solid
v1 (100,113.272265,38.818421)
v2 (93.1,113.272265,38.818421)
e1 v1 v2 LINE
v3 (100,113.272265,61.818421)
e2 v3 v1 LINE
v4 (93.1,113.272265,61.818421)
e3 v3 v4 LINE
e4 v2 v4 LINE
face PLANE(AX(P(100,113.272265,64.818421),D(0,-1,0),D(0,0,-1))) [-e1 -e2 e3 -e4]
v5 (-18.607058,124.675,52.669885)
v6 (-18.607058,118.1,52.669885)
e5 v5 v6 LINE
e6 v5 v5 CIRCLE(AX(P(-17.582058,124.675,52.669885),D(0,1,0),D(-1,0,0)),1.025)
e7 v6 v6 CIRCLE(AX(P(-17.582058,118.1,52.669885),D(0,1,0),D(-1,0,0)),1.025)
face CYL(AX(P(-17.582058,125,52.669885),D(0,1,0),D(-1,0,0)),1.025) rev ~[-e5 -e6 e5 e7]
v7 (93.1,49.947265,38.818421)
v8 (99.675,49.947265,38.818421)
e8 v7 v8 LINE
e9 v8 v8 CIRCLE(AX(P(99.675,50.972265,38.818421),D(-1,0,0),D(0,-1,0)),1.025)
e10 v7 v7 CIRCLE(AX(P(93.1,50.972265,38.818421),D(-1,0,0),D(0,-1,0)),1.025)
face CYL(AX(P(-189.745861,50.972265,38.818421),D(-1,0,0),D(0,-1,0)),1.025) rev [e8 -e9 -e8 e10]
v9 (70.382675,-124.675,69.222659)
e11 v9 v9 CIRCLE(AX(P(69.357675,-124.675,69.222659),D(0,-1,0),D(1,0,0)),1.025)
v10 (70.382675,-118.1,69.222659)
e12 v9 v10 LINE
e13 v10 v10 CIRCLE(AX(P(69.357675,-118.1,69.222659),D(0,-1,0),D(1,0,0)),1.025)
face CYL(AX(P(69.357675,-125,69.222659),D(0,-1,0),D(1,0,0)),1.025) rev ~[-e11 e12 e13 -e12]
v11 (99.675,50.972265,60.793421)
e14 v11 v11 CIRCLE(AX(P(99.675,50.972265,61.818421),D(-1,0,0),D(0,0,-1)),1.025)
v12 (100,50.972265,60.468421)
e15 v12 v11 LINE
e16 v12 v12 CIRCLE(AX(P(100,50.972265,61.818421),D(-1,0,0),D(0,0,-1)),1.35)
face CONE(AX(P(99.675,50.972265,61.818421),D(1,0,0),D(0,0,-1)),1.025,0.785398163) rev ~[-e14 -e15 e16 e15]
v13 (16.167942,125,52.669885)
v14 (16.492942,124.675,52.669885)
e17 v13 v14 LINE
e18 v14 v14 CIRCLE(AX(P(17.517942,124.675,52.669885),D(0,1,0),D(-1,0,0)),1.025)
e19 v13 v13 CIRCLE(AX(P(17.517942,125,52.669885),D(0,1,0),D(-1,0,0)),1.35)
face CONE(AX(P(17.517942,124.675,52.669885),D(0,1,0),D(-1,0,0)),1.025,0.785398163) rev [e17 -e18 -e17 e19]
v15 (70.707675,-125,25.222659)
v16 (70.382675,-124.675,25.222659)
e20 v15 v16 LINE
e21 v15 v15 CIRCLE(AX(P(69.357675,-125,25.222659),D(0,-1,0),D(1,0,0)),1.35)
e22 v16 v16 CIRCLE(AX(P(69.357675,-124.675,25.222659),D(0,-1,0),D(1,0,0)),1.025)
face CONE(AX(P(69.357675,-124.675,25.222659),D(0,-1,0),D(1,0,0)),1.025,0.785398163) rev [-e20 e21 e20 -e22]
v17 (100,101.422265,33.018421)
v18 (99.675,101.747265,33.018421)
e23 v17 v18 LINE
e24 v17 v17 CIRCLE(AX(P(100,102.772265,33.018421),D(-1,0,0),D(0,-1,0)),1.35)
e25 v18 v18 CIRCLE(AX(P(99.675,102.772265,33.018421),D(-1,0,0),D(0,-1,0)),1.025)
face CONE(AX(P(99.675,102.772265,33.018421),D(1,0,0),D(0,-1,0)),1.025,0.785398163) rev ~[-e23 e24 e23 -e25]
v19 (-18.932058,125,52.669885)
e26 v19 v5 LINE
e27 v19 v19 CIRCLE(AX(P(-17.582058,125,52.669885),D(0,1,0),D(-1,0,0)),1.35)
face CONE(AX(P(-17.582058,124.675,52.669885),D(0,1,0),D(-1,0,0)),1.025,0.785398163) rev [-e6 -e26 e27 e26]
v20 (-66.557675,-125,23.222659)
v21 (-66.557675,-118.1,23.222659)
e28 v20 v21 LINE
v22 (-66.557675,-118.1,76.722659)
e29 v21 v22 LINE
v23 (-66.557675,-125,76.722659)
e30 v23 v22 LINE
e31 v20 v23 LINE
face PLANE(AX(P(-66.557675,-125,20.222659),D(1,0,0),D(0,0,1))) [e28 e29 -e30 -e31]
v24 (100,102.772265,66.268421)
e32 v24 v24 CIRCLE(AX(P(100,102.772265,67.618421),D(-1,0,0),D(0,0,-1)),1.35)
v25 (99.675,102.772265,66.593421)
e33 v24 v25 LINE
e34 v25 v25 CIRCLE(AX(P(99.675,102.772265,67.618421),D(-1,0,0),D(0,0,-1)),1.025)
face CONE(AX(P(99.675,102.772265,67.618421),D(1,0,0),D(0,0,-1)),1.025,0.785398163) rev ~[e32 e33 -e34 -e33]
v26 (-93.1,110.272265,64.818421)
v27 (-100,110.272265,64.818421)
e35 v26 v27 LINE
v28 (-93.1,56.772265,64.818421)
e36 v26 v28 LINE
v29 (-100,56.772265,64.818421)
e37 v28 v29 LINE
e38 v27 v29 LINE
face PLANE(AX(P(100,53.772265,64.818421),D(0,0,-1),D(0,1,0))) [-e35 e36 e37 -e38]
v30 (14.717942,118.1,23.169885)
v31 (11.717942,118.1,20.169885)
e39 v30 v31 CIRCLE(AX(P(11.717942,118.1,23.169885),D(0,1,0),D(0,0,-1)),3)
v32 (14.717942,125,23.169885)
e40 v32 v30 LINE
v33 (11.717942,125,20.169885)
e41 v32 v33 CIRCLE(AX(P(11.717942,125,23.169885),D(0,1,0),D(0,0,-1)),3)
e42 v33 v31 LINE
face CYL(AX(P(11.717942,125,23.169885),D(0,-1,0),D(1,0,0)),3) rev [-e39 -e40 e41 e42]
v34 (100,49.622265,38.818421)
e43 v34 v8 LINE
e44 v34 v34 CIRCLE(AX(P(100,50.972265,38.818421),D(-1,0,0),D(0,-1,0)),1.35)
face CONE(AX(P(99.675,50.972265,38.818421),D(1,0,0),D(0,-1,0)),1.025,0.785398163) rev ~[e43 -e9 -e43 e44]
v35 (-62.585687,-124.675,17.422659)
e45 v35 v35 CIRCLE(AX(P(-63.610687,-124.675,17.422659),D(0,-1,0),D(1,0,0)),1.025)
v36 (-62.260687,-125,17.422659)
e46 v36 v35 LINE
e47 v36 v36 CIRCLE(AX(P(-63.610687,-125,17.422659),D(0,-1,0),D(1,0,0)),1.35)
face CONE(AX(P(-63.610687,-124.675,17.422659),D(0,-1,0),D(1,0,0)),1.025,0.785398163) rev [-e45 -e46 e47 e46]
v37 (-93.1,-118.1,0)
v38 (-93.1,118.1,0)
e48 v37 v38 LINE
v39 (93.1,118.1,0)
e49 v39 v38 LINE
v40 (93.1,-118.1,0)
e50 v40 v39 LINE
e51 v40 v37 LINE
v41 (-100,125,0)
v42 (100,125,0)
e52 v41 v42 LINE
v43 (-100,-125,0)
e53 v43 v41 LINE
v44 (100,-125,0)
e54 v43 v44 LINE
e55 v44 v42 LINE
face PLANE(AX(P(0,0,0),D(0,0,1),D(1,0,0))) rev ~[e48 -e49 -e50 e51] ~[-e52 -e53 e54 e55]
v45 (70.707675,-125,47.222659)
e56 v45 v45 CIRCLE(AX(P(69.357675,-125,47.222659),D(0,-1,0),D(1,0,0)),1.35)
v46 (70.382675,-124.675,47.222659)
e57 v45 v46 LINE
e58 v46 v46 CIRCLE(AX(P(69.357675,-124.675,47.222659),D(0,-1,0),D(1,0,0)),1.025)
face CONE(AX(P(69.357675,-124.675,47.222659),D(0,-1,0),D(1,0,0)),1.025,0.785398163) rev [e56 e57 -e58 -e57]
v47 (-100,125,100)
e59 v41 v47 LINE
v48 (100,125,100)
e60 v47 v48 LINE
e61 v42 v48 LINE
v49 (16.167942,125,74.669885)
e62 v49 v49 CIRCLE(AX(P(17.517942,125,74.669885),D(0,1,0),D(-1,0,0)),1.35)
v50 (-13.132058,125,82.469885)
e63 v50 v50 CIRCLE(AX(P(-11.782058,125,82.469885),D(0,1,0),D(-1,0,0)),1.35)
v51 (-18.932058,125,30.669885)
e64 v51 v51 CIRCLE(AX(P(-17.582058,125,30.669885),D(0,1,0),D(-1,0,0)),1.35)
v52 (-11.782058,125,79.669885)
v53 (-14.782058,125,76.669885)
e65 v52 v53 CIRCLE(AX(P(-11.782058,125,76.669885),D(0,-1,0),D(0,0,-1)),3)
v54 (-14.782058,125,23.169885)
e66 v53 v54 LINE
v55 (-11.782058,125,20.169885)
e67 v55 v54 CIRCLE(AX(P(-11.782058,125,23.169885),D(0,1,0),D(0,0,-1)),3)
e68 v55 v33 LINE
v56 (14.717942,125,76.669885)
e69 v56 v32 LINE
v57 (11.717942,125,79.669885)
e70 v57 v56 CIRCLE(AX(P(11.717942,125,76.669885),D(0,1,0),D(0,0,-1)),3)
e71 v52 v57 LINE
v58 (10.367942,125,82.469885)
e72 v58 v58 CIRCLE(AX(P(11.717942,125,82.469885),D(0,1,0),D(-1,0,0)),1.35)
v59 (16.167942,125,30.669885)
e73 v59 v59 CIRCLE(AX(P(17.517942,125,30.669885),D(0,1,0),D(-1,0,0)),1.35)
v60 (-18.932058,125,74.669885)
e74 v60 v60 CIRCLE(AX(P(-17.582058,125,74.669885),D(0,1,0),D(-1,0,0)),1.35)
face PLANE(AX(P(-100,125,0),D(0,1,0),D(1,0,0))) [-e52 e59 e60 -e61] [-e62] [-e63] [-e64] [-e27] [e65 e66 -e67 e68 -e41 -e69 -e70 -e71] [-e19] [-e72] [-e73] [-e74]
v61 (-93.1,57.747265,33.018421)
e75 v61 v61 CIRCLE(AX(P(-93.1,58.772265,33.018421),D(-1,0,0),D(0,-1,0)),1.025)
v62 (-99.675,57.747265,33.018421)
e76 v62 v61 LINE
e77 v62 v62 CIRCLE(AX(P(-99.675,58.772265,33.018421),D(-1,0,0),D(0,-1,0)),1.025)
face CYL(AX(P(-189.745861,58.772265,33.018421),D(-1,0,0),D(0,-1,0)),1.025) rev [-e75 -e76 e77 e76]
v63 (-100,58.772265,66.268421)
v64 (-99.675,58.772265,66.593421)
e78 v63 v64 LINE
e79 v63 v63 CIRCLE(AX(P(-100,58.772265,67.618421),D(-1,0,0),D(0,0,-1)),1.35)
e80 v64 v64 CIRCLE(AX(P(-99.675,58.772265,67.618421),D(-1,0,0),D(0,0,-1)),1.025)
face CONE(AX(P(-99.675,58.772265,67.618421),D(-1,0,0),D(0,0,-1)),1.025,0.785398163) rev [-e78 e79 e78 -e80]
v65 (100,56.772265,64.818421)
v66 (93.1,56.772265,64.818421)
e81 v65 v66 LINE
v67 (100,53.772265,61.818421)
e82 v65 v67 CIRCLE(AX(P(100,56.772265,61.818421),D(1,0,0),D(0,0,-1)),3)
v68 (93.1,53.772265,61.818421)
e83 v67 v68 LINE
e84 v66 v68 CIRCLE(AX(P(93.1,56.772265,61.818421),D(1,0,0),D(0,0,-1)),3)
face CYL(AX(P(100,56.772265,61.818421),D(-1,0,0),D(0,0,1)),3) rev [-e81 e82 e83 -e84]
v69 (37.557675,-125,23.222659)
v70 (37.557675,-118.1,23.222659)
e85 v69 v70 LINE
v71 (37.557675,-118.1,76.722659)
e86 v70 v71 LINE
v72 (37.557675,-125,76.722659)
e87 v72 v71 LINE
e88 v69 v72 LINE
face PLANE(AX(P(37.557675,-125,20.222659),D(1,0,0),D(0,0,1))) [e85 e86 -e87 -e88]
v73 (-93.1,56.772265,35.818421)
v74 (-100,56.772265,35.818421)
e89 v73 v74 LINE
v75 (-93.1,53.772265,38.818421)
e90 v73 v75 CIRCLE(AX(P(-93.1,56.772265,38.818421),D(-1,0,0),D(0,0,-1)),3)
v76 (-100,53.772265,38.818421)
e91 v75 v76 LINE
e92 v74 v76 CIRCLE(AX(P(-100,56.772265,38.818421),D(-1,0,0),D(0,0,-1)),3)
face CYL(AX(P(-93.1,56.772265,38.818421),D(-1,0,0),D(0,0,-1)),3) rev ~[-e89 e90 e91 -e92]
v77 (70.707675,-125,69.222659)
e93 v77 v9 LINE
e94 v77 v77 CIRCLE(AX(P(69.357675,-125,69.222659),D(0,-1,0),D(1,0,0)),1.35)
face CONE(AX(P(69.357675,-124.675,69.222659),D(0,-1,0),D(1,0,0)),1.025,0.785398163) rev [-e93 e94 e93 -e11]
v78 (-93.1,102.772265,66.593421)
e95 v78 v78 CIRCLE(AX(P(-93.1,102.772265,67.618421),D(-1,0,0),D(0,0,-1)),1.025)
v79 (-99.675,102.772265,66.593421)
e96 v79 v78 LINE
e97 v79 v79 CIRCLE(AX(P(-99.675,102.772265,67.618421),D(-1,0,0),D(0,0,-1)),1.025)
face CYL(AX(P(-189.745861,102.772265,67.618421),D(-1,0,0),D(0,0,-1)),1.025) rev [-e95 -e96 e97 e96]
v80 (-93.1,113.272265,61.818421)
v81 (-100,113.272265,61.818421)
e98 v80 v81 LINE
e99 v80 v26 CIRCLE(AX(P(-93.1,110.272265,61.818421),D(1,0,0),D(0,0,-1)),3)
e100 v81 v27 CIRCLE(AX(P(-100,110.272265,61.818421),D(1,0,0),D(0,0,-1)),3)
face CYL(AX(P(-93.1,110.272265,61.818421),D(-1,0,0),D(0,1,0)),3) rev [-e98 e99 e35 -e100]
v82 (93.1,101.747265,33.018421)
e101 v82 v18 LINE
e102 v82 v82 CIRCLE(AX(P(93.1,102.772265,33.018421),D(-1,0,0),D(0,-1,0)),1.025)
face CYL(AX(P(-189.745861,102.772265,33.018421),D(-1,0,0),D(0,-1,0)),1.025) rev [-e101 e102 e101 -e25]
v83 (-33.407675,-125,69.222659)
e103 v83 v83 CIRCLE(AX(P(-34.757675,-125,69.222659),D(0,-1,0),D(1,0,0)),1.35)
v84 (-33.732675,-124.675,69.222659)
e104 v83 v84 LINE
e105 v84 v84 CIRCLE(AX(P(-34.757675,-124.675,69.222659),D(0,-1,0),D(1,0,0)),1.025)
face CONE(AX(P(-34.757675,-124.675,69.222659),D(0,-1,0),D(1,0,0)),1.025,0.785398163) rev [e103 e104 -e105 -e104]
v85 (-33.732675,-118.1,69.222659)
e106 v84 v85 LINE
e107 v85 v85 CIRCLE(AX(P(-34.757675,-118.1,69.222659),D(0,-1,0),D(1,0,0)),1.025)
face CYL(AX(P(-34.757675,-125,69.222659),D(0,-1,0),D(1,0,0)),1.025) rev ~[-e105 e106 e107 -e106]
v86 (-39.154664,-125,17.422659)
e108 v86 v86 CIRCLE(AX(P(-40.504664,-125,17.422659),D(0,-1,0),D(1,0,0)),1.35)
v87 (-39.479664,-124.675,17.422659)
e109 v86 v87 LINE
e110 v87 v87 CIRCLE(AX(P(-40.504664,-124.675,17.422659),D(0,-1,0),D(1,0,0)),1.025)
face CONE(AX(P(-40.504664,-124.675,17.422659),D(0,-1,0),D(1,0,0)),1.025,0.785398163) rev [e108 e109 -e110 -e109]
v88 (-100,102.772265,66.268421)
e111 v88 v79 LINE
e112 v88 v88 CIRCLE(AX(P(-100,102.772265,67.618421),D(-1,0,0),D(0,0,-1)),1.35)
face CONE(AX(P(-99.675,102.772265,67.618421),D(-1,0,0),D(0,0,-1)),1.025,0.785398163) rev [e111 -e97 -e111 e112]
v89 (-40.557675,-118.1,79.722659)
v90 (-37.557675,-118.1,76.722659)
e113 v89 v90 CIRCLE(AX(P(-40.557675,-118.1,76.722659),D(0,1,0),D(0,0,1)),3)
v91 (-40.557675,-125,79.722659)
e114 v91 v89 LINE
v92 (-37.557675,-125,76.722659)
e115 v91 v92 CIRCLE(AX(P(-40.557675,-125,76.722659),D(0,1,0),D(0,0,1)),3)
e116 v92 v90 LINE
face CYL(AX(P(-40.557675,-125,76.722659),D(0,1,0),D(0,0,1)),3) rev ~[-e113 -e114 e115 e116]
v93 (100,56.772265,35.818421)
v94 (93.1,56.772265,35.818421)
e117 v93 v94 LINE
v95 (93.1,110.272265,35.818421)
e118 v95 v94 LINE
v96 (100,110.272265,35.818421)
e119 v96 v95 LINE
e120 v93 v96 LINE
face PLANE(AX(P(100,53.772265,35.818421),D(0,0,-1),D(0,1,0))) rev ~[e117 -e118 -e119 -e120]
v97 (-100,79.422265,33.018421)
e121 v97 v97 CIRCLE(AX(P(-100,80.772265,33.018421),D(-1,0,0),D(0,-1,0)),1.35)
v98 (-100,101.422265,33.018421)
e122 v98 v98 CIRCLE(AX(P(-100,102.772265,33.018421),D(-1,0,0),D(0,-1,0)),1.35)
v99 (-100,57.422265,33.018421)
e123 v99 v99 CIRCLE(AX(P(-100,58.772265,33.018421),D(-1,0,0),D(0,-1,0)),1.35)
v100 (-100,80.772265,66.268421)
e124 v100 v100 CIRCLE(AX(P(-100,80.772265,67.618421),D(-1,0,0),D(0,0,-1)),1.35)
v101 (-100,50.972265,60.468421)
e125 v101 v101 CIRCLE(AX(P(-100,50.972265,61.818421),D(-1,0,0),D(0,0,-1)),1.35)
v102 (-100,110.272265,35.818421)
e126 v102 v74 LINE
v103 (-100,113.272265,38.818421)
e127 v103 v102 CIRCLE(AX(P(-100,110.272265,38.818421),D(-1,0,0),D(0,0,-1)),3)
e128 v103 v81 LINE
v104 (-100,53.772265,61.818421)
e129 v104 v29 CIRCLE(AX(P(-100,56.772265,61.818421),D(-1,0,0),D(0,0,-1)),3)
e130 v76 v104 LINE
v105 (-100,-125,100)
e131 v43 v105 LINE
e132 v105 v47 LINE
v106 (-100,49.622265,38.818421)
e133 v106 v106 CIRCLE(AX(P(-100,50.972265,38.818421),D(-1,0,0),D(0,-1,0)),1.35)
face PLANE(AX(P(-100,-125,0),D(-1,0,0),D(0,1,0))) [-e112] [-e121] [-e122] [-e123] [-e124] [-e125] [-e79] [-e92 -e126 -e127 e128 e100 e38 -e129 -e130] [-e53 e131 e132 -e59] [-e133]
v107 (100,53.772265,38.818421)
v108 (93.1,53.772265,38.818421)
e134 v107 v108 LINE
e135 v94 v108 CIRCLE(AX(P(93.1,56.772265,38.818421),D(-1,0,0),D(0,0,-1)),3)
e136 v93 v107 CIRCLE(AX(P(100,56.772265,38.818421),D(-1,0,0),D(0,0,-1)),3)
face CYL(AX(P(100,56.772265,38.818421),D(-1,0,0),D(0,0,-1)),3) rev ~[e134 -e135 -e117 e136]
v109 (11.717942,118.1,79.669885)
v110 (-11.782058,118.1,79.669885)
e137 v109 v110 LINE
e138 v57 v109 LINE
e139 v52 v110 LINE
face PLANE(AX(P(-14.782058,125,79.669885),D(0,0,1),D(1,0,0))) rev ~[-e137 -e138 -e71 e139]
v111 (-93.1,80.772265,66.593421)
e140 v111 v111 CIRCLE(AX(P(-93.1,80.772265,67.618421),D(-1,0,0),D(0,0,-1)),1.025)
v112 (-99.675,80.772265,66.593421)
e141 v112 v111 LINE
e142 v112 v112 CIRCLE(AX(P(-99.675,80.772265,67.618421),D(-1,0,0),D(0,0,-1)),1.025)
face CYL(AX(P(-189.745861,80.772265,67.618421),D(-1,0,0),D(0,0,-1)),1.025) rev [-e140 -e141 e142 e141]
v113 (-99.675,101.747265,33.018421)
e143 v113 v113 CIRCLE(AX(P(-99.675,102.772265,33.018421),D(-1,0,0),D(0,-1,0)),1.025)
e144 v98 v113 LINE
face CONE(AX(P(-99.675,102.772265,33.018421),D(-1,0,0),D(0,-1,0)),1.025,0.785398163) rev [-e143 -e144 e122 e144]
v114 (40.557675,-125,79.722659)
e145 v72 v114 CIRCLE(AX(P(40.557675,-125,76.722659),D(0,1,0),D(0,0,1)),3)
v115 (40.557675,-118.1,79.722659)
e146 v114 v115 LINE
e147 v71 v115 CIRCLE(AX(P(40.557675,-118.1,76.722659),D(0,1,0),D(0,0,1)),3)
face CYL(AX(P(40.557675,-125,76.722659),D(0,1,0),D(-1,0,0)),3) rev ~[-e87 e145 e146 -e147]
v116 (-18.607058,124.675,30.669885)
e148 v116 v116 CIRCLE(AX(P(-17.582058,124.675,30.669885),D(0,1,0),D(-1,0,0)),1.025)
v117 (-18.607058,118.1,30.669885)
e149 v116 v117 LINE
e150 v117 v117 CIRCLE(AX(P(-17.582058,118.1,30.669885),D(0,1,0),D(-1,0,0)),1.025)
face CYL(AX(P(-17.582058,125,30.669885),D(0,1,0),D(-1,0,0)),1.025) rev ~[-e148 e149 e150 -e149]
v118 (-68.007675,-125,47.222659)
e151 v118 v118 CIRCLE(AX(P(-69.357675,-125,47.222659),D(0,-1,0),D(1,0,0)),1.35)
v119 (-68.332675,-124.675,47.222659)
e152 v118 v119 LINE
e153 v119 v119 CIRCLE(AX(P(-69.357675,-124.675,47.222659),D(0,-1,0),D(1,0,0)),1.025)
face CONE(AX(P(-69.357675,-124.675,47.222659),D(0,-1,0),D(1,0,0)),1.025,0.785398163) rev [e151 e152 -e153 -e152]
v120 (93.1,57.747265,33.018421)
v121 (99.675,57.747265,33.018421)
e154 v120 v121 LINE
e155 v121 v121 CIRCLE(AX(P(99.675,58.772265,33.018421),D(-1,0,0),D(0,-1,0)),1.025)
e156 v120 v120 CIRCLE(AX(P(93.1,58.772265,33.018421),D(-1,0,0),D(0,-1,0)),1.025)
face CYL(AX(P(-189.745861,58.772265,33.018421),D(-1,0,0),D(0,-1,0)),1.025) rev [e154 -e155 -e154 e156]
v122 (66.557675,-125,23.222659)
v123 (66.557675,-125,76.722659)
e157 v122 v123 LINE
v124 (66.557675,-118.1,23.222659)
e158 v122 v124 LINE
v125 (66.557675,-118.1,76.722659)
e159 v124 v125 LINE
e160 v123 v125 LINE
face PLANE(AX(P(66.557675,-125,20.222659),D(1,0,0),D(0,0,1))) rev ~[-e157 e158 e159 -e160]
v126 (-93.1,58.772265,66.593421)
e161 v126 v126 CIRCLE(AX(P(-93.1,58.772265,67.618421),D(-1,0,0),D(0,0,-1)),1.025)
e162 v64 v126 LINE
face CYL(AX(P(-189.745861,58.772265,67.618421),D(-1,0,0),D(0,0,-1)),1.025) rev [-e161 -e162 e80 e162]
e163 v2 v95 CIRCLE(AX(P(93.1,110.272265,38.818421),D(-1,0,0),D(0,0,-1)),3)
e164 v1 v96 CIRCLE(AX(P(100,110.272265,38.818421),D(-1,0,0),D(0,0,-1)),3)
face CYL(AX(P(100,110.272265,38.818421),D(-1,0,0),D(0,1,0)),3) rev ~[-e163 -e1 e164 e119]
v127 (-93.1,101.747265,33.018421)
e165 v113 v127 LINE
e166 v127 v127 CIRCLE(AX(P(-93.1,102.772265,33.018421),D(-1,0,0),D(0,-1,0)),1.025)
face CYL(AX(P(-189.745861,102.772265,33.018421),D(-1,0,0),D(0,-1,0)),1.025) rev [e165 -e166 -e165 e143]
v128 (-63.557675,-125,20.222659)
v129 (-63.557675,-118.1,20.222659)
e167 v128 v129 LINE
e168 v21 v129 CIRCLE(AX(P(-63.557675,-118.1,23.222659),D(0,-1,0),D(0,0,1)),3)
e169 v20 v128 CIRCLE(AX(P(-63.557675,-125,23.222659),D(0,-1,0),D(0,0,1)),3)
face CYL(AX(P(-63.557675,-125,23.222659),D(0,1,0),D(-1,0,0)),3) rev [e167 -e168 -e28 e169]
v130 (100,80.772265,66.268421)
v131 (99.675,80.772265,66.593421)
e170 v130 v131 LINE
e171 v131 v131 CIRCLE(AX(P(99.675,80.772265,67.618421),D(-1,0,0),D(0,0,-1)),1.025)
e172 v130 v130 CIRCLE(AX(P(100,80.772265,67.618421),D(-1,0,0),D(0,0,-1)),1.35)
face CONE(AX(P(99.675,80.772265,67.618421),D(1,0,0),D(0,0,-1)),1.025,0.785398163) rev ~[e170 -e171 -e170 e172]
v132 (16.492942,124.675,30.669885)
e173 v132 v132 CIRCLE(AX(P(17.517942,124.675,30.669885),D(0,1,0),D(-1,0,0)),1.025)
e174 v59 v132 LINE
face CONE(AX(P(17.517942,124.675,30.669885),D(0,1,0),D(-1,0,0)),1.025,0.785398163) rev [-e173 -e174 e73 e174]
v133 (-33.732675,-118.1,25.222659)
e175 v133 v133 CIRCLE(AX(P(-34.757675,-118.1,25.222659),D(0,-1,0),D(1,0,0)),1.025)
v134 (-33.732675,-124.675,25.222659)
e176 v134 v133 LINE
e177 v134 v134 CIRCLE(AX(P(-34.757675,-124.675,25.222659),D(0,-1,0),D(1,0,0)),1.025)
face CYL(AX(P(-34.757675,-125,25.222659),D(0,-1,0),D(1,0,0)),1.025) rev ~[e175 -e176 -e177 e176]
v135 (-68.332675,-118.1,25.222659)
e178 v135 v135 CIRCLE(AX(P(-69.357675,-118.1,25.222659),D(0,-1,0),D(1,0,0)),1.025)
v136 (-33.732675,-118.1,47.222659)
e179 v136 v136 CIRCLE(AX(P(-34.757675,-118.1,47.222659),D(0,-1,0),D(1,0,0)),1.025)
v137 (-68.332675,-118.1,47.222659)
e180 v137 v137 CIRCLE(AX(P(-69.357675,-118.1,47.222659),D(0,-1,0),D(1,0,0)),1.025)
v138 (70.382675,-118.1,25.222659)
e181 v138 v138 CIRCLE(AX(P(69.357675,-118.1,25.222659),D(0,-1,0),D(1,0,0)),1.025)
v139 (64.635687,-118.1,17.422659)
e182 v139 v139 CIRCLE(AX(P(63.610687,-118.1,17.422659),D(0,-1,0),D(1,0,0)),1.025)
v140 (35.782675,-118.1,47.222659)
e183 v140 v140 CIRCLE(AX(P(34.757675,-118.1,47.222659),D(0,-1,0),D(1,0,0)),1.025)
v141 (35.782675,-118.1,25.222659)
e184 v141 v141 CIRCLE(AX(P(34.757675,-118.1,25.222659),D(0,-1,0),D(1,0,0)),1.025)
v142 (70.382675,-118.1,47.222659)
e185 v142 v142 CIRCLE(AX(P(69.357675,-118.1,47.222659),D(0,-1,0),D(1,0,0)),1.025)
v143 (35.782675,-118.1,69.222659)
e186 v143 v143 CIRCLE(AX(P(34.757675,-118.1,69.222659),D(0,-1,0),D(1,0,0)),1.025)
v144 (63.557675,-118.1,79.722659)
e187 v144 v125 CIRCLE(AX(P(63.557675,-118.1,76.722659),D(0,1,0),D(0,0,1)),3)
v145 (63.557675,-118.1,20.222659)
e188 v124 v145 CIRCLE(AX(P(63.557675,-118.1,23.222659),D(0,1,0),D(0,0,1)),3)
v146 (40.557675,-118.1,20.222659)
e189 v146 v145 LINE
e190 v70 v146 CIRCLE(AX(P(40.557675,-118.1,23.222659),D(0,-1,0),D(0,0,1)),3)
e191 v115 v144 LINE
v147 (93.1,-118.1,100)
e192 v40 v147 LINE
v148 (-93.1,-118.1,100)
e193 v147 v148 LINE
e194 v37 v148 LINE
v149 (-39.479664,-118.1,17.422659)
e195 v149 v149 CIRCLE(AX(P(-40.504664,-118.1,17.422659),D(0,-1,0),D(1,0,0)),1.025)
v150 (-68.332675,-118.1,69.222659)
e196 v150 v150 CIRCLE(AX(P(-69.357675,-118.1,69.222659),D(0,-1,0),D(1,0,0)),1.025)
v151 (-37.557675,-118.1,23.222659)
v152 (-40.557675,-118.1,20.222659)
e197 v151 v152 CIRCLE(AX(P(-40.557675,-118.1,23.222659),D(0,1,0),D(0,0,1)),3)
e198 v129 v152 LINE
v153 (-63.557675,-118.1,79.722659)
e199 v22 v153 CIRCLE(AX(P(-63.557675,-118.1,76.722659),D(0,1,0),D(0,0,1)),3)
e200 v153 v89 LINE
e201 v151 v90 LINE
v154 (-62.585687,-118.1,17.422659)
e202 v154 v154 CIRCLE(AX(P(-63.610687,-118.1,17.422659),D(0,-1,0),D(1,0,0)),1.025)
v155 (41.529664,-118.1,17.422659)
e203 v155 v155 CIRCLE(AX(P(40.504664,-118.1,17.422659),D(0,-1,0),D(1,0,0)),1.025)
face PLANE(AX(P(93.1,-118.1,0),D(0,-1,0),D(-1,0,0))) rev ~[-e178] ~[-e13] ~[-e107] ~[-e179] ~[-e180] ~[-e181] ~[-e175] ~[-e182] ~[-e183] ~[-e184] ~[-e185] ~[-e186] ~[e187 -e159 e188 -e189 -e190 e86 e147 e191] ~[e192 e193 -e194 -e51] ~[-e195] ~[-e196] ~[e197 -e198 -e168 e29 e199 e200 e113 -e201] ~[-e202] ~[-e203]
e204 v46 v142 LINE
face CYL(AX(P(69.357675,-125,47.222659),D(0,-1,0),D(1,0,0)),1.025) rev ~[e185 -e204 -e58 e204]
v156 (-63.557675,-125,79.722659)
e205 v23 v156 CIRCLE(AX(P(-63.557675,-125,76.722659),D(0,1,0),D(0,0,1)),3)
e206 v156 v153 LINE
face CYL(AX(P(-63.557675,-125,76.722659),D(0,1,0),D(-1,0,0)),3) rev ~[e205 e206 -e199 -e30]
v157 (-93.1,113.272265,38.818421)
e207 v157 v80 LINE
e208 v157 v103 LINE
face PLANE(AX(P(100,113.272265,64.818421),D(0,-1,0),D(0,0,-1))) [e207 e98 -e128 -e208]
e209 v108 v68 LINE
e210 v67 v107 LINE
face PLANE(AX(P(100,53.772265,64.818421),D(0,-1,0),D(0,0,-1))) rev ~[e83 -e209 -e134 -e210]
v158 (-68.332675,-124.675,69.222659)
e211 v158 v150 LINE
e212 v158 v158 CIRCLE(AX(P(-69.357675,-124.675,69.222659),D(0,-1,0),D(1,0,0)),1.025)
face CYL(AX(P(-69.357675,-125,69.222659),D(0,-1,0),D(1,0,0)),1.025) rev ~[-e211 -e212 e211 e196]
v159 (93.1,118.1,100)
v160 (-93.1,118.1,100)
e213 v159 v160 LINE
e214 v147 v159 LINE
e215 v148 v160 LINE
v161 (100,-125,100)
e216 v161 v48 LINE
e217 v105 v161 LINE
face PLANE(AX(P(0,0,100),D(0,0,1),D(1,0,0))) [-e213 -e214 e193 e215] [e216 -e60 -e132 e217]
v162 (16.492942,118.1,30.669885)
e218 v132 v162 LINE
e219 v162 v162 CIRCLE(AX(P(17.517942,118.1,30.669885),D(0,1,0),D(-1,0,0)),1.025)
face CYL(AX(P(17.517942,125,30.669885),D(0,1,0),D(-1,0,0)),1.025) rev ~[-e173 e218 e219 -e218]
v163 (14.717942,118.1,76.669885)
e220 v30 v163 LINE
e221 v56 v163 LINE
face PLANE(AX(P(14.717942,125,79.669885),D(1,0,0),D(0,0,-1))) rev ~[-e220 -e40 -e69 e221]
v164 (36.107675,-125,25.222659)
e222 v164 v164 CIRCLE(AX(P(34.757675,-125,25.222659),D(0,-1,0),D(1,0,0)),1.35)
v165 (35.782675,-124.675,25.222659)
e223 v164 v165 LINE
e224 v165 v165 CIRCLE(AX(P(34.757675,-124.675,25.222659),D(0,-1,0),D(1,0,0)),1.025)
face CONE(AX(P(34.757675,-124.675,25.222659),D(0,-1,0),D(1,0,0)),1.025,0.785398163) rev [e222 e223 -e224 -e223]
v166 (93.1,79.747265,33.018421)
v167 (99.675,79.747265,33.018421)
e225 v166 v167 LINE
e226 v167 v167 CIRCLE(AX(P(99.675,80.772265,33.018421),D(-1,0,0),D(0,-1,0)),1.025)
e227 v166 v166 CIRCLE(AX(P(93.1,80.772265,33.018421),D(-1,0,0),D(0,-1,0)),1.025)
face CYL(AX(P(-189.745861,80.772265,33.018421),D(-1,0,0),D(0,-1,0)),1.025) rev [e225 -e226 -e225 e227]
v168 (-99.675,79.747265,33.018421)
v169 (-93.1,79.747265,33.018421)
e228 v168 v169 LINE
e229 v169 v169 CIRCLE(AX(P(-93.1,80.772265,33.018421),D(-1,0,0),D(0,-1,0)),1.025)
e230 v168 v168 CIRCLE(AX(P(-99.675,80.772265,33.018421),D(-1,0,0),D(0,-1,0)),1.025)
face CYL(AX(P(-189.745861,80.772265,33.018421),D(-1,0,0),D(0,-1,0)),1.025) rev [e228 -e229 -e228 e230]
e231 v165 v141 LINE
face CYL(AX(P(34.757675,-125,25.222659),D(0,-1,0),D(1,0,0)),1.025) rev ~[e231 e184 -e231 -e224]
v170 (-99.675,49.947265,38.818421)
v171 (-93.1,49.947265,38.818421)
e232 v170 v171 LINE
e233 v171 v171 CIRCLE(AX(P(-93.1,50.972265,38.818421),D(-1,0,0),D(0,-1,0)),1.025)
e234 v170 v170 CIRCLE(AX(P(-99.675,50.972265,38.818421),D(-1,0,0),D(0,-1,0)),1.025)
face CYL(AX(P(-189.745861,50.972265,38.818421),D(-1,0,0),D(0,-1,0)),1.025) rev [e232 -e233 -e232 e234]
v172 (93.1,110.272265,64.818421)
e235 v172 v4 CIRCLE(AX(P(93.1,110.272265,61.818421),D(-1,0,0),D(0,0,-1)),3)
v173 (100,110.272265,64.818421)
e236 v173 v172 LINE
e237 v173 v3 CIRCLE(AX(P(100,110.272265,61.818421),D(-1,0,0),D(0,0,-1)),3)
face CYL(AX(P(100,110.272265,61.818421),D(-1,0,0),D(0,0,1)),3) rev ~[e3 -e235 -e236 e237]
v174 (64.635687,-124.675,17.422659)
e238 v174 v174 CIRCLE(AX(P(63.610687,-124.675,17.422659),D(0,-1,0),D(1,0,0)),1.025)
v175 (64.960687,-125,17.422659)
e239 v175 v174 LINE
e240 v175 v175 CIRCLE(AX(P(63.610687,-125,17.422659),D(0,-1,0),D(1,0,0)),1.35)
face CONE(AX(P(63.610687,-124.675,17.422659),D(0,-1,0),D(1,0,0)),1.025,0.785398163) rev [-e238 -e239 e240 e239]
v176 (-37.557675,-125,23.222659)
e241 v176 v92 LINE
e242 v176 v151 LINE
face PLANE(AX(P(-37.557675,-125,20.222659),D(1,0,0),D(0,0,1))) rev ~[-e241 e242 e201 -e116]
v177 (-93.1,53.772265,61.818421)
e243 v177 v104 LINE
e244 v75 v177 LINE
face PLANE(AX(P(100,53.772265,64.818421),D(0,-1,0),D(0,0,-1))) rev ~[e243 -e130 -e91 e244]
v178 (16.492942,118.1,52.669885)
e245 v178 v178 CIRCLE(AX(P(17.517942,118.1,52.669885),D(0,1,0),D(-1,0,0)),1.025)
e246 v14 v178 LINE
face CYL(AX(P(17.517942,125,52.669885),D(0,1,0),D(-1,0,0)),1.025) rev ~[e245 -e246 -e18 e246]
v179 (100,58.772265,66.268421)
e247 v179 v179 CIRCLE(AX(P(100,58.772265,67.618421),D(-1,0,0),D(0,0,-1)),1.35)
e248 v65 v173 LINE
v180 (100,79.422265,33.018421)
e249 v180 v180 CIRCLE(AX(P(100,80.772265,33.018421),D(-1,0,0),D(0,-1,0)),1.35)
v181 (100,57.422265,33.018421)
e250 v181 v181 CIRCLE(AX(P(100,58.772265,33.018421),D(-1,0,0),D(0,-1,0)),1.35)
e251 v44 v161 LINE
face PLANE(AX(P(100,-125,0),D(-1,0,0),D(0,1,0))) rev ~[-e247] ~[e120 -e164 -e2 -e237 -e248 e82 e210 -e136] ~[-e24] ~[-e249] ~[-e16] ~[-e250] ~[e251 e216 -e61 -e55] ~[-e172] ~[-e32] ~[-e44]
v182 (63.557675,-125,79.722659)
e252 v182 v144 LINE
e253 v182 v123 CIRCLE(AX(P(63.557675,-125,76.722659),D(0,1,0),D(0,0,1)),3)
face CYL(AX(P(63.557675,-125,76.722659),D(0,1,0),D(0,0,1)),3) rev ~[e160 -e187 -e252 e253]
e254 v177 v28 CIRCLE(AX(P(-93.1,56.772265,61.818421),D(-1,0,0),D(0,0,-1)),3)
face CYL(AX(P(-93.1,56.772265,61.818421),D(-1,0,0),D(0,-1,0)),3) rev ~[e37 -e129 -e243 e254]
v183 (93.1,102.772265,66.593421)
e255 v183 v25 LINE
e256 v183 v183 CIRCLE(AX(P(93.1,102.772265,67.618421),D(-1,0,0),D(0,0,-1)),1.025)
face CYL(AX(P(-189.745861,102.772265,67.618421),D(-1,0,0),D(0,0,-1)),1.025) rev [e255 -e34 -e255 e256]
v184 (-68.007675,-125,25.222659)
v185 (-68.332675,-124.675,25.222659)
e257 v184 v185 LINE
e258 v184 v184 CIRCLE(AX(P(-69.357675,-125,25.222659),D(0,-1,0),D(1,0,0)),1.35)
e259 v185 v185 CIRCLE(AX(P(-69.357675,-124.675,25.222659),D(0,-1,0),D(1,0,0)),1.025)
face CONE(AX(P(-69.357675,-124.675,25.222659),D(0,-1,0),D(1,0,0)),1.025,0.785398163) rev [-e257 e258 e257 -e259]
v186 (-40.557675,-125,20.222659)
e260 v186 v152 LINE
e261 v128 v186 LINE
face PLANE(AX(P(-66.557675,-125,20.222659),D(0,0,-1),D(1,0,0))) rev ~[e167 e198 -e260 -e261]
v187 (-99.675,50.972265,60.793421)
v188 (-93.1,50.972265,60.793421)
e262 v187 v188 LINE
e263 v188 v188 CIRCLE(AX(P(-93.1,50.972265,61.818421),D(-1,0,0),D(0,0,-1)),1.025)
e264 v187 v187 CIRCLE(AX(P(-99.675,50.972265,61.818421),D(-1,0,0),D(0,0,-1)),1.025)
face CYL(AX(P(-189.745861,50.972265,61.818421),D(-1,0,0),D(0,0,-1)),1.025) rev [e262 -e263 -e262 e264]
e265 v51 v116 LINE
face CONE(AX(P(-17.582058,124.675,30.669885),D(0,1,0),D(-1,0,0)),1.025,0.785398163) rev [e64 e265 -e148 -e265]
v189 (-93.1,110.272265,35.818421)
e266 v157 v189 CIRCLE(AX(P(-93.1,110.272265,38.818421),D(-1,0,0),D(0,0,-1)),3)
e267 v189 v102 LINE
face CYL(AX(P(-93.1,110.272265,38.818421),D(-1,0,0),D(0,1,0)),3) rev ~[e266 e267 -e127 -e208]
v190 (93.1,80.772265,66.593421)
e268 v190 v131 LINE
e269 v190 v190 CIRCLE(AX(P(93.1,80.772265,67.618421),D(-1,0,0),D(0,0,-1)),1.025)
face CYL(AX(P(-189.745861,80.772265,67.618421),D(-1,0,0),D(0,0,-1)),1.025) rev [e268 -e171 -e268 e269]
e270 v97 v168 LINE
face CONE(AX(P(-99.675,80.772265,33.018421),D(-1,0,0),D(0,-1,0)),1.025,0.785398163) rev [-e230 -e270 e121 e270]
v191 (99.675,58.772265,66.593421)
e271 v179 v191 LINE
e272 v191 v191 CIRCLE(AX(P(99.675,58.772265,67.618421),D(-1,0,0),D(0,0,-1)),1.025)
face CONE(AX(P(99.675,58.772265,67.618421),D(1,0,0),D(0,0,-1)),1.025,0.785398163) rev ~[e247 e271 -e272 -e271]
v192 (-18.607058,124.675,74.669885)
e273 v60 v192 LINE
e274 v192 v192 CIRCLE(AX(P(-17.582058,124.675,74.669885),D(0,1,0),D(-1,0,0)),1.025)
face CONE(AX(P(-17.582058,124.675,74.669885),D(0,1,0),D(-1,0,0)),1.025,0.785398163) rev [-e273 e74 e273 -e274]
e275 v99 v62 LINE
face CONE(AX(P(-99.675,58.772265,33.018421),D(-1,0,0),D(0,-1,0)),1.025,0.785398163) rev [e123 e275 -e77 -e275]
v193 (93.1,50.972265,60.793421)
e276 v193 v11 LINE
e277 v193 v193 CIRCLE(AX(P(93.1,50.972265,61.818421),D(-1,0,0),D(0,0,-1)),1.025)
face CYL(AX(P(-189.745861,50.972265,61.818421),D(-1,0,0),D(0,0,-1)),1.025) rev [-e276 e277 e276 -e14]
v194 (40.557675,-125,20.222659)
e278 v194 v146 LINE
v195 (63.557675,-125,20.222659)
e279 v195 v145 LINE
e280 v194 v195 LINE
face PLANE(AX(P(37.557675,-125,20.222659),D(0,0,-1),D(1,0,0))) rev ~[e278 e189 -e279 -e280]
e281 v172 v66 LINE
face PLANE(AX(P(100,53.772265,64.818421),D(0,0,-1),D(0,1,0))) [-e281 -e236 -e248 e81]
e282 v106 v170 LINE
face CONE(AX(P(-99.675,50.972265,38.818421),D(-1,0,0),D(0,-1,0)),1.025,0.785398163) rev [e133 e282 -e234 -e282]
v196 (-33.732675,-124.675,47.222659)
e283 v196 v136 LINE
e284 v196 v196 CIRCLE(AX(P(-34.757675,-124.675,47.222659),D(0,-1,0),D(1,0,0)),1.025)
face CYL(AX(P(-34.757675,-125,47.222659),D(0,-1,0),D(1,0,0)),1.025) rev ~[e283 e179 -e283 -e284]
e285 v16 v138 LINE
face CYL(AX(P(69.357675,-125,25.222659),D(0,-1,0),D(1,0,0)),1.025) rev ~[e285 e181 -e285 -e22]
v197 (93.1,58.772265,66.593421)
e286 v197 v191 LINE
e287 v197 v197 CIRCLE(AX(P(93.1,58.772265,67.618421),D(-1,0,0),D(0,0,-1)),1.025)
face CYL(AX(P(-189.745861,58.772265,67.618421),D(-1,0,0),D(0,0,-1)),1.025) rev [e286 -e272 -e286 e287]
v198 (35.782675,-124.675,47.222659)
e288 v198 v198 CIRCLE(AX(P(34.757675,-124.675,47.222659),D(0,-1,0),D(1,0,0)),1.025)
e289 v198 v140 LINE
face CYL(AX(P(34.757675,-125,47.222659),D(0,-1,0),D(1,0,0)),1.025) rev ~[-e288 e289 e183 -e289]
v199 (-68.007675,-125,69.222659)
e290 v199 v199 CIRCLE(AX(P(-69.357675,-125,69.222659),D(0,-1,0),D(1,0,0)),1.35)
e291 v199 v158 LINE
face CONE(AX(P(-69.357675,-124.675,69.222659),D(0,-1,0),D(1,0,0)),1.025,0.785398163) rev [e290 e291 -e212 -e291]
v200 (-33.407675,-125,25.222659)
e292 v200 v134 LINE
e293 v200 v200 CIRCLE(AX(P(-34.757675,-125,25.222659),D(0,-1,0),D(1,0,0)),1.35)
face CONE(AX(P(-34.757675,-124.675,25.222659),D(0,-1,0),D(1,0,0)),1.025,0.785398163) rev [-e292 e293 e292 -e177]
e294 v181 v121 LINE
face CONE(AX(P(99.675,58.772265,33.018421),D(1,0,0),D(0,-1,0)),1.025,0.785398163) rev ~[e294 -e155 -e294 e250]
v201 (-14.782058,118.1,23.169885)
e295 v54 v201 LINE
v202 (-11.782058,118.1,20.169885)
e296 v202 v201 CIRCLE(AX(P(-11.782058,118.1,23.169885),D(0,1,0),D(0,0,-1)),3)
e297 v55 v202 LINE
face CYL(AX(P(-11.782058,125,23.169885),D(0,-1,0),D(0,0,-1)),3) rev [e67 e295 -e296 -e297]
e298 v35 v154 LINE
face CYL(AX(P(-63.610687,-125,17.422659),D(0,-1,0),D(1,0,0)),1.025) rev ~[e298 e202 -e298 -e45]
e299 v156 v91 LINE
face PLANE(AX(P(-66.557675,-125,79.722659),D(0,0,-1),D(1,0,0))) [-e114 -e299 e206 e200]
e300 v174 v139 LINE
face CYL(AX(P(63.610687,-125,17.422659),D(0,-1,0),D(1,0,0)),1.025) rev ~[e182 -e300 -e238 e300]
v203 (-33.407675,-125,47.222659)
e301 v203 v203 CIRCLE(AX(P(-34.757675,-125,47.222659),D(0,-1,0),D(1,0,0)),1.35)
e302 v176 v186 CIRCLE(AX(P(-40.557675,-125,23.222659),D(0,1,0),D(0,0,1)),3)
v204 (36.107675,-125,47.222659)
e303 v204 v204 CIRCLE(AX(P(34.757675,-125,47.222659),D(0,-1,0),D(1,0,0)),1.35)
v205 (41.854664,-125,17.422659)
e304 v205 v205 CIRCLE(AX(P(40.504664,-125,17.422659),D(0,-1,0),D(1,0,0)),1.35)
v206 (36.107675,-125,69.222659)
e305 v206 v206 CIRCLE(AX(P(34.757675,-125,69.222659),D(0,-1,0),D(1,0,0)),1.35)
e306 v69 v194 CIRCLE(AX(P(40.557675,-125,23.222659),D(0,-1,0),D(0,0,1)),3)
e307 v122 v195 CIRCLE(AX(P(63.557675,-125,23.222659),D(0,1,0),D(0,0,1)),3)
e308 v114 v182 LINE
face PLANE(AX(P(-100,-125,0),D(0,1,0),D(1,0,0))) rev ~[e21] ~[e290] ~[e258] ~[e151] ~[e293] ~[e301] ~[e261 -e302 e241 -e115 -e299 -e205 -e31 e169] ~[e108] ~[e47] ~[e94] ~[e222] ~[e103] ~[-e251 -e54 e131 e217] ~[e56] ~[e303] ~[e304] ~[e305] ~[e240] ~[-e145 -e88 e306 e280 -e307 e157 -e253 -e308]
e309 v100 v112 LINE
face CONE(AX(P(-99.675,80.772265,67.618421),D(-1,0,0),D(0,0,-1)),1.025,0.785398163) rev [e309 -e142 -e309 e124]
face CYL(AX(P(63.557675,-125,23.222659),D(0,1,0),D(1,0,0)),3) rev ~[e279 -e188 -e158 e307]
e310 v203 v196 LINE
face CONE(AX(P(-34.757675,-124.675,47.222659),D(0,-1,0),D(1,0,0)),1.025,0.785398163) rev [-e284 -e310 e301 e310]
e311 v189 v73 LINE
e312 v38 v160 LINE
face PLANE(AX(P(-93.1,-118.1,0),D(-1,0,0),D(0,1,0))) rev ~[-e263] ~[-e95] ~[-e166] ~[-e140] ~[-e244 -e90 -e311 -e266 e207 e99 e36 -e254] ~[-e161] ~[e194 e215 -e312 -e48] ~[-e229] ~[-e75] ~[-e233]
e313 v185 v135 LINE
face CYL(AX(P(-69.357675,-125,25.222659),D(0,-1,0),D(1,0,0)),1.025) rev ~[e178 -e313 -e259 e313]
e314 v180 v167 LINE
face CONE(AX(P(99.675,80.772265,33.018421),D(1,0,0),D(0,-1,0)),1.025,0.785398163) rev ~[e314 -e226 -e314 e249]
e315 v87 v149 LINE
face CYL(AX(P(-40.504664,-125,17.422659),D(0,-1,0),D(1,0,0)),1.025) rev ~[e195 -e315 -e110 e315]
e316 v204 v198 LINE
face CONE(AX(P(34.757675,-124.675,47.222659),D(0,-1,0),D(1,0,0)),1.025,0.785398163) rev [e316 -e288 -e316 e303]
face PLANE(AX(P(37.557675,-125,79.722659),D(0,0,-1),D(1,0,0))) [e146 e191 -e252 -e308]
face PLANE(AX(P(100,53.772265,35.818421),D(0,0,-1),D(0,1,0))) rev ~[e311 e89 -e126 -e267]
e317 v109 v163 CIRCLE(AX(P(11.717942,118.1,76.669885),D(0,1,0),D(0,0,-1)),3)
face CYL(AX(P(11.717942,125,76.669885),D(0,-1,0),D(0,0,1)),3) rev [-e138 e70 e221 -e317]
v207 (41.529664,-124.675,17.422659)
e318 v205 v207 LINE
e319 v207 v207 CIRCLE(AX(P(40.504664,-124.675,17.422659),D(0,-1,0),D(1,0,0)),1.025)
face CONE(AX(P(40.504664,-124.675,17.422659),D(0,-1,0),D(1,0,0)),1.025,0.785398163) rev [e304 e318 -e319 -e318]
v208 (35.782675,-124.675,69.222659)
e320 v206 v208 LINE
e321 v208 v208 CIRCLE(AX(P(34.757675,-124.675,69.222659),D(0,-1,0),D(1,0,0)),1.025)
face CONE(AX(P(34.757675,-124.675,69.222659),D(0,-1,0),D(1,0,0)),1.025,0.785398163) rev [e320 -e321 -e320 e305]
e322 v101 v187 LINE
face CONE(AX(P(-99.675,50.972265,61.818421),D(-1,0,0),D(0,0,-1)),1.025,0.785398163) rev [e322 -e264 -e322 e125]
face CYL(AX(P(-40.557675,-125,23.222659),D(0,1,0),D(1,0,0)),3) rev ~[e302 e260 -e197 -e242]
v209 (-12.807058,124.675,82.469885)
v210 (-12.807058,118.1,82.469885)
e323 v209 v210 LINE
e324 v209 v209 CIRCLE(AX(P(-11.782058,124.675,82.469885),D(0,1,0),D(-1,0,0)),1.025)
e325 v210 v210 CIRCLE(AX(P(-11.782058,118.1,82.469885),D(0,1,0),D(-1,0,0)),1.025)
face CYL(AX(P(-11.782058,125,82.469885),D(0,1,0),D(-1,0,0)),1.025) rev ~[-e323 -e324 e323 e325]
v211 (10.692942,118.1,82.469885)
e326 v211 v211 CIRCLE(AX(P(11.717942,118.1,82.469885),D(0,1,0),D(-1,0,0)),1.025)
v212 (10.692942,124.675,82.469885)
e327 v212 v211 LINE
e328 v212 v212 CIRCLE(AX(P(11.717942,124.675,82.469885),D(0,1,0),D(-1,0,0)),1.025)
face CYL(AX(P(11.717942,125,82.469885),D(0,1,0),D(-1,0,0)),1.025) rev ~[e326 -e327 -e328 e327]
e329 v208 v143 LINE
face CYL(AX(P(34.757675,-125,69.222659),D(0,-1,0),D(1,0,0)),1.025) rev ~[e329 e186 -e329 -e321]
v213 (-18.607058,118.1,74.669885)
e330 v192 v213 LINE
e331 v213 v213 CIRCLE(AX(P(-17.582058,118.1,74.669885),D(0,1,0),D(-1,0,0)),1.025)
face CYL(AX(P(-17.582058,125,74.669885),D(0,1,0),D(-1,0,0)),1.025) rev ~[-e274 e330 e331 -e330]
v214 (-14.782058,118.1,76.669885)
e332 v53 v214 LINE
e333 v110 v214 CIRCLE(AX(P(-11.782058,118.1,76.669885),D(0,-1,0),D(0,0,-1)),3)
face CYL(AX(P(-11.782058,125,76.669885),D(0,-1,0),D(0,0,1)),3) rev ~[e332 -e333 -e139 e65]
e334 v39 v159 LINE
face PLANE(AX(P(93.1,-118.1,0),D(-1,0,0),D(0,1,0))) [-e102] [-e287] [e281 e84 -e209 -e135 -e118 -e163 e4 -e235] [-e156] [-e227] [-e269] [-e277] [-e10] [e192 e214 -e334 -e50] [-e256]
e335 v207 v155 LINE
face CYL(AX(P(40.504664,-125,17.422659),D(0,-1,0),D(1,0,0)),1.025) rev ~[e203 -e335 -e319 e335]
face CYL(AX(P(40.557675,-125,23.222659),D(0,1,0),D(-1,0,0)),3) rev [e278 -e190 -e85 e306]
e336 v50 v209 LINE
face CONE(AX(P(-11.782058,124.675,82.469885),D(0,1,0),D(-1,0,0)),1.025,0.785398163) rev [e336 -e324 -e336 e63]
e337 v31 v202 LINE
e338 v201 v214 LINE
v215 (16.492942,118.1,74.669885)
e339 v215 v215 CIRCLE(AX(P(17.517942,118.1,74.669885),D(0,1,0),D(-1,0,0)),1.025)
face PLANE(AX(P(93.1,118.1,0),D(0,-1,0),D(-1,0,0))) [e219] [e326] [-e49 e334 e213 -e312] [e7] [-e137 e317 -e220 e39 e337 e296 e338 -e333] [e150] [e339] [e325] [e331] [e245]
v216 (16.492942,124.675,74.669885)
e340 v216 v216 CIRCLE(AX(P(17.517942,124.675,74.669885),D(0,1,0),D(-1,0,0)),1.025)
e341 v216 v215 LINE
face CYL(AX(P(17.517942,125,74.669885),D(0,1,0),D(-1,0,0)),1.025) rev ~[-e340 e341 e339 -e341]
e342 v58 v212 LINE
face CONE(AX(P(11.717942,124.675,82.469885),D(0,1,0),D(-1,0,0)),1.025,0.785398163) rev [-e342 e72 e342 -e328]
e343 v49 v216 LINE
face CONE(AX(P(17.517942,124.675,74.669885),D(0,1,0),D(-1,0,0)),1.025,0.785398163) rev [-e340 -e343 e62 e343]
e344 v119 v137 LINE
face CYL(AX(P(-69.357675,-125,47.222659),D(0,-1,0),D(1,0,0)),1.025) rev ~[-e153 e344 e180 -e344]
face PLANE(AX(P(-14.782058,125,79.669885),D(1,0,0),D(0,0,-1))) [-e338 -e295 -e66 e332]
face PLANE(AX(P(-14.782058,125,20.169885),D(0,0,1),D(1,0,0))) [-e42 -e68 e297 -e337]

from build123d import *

# Parameters (mm, degrees)
ESBO_O1_W                  = 200
ESBO_O1_H                  = 250
RESSALTO_EXTRUS_O2_DEPTH   = 100
ESBO_O6_W                  = 186.2
ESBO_O6_H                  = 236.2
CORTE_EXTRUS_O3_DEPTH      = 100
ESBO_O7_W                  = 29
ESBO_O7_H                  = 59.5
CORTE_EXTRUS_O4_DEPTH      = 213
FILETE1_R                  = 3
CORTE_EXTRUS_O6_DEPTH      = 189.745860882
CORTE_EXTRUS_O6_DEPTH_BACK = 189.745860882
ESBO_O8_R                  = 1.025
CHANFRO2_SIZE              = 0.325
CHANFRO3_SIZE              = 0.325
ESBO_O10_W                 = 29.5
ESBO_O10_H                 = 59.5
CORTE_EXTRUS_O7_DEPTH      = 47
FILETE2_R                  = 3
ESBO_O11_R                 = 1.025
CORTE_EXTRUS_O8_DEPTH      = 9
CHANFRO4_SIZE              = 0.325
ESBO_O12_W                 = 29
ESBO_O12_H                 = 59.5
CORTE_EXTRUS_O9_DEPTH      = 23
FILETE3_R                  = 3
ESBO_O13_R                 = 1.025
CORTE_EXTRUS_O10_DEPTH     = 23
CHANFRO5_SIZE              = 0.325


with BuildPart() as part:
    # Esboço1 → Ressalto-extrusão2 (new body)
    with BuildSketch(Plane.XY):
        Rectangle(ESBO_O1_W, ESBO_O1_H)
    extrude(amount=RESSALTO_EXTRUS_O2_DEPTH)

    # Esboço6 → Corte-extrusão3 (cut)
    with BuildSketch(Plane(origin=(0, 0, 0), x_dir=(-1, 0, 0), z_dir=(0, 0, -1))):
        Rectangle(ESBO_O6_W, ESBO_O6_H)
    extrude(amount=-CORTE_EXTRUS_O3_DEPTH, mode=Mode.SUBTRACT)

    # Esboço7 → Corte-extrusão4 (cut)
    with BuildSketch(Plane(origin=(100, 0, 0), x_dir=(0, 0, -1), z_dir=(1, 0, 0))):
        with Locations((-50.318421244, 83.522264674)):
            Rectangle(ESBO_O7_W, ESBO_O7_H)
    extrude(amount=-CORTE_EXTRUS_O4_DEPTH, mode=Mode.SUBTRACT)

    # Filete1
    filete1_edges = [part.edges().sort_by_distance(p)[0] for p in [
        (-96.55, 53.772264674, 64.818421244),
        (96.55, 53.772264674, 64.818421244),
        (-96.55, 113.272264674, 64.818421244),
        (96.55, 113.272264674, 64.818421244),
        (-96.55, 113.272264674, 35.818421244),
        (96.55, 113.272264674, 35.818421244),
        (-96.55, 53.772264674, 35.818421244),
        (96.55, 53.772264674, 35.818421244),
    ]]
    fillet(filete1_edges, radius=FILETE1_R)

    # Esboço8 → Corte-extrusão6 (cut, two sides: drawn at the far end of the back side and taken through both)
    with BuildSketch(Plane(origin=(0, 0, 0), x_dir=(0, 0, -1), z_dir=(1, 0, 0)).offset(-CORTE_EXTRUS_O6_DEPTH_BACK)):
        with Locations((-67.618421244, 102.772264674)):
            Circle(ESBO_O8_R)
        with Locations((-67.618421244, 80.772264674)):
            Circle(ESBO_O8_R)
        with Locations((-67.618421244, 58.772264674)):
            Circle(ESBO_O8_R)
        with Locations((-61.818421244, 50.972264674)):
            Circle(ESBO_O8_R)
        with Locations(Location((-38.818421244, 50.972264674, 0), (0, 0, 270))):
            Circle(ESBO_O8_R)
        with Locations(Location((-33.018421244, 58.772264674, 0), (0, 0, 270))):
            Circle(ESBO_O8_R)
        with Locations(Location((-33.018421244, 80.772264674, 0), (0, 0, 270))):
            Circle(ESBO_O8_R)
        with Locations(Location((-33.018421244, 102.772264674, 0), (0, 0, 270))):
            Circle(ESBO_O8_R)
    extrude(amount=CORTE_EXTRUS_O6_DEPTH + CORTE_EXTRUS_O6_DEPTH_BACK, mode=Mode.SUBTRACT)

    # Chanfro2
    chanfro2_edges = [part.edges().sort_by_distance(p)[0] for p in [
        (100, 103.797264674, 33.018421244),
        (100, 81.797264674, 33.018421244),
        (100, 59.797264674, 33.018421244),
        (100, 51.997264674, 38.818421244),
        (100, 50.972264674, 62.843421244),
        (100, 58.772264674, 68.643421244),
        (100, 80.772264674, 68.643421244),
        (100, 102.772264674, 68.643421244),
    ]]
    chamfer(chanfro2_edges, length=CHANFRO2_SIZE)

    # Chanfro3
    chanfro3_edges = [part.edges().sort_by_distance(p)[0] for p in [
        (-100, 103.797264674, 33.018421244),
        (-100, 81.797264674, 33.018421244),
        (-100, 59.797264674, 33.018421244),
        (-100, 51.997264674, 38.818421244),
        (-100, 50.972264674, 62.843421244),
        (-100, 58.772264674, 68.643421244),
        (-100, 80.772264674, 68.643421244),
        (-100, 102.772264674, 68.643421244),
    ]]
    chamfer(chanfro3_edges, length=CHANFRO3_SIZE)

    # Esboço10 → Corte-extrusão7 (cut)
    with BuildSketch(Plane(origin=(0, 125, 0), x_dir=(1, 0, 0), z_dir=(0, 1, 0))):
        with Locations((-0.032057976, -49.919885363)):
            Rectangle(ESBO_O10_W, ESBO_O10_H)
    extrude(amount=-CORTE_EXTRUS_O7_DEPTH, mode=Mode.SUBTRACT)

    # Filete2
    filete2_edges = [part.edges().sort_by_distance(p)[0] for p in [
        (-14.782057976, 121.55, 79.669885363),
        (-14.782057976, 121.55, 20.169885363),
        (14.717942024, 121.55, 20.169885363),
        (14.717942024, 121.55, 79.669885363),
    ]]
    fillet(filete2_edges, radius=FILETE2_R)

    # Esboço11 → Corte-extrusão8 (cut)
    with BuildSketch(Plane(origin=(0, 125, 0), x_dir=(1, 0, 0), z_dir=(0, 1, 0))):
        with Locations(Location((-17.582057976, -30.669885363, 0), (0, 0, 180))):
            Circle(ESBO_O11_R)
        with Locations(Location((-17.582057976, -52.669885363, 0), (0, 0, 180))):
            Circle(ESBO_O11_R)
        with Locations(Location((-17.582057976, -74.669885363, 0), (0, 0, 180))):
            Circle(ESBO_O11_R)
        with Locations(Location((-11.782057976, -82.469885363, 0), (0, 0, 180))):
            Circle(ESBO_O11_R)
        with Locations(Location((11.717942024, -82.469885363, 0), (0, 0, 180))):
            Circle(ESBO_O11_R)
        with Locations(Location((17.517942024, -74.669885363, 0), (0, 0, 180))):
            Circle(ESBO_O11_R)
        with Locations(Location((17.517942024, -52.669885363, 0), (0, 0, 180))):
            Circle(ESBO_O11_R)
        with Locations(Location((17.517942024, -30.669885363, 0), (0, 0, 180))):
            Circle(ESBO_O11_R)
    extrude(amount=-CORTE_EXTRUS_O8_DEPTH, mode=Mode.SUBTRACT)

    # Chanfro4
    chanfro4_edges = [part.edges().sort_by_distance(p)[0] for p in [
        (18.542942024, 125, 30.669885363),
        (18.542942024, 125, 52.669885363),
        (18.542942024, 125, 74.669885363),
        (12.742942024, 125, 82.469885363),
        (-10.757057976, 125, 82.469885363),
        (-16.557057976, 125, 74.669885363),
        (-16.557057976, 125, 52.669885363),
        (-16.557057976, 125, 30.669885363),
    ]]
    chamfer(chanfro4_edges, length=CHANFRO4_SIZE)

    # Esboço12 → Corte-extrusão9 (cut)
    with BuildSketch(Plane.XZ.offset(125)):
        with Locations((52.057675452, 49.972658861)):
            Rectangle(ESBO_O12_W, ESBO_O12_H)
        with Locations((-52.057675452, 49.972658861)):
            Rectangle(ESBO_O12_W, ESBO_O12_H)
    extrude(amount=-CORTE_EXTRUS_O9_DEPTH, mode=Mode.SUBTRACT)

    # Filete3
    filete3_edges = [part.edges().sort_by_distance(p)[0] for p in [
        (-66.557675452, -121.55, 20.222658861),
        (-66.557675452, -121.55, 79.722658861),
        (-37.557675452, -121.55, 79.722658861),
        (-37.557675452, -121.55, 20.222658861),
        (37.557675452, -121.55, 20.222658861),
        (37.557675452, -121.55, 79.722658861),
        (66.557675452, -121.55, 79.722658861),
        (66.557675452, -121.55, 20.222658861),
    ]]
    fillet(filete3_edges, radius=FILETE3_R)

    # Esboço13 → Corte-extrusão10 (cut)
    with BuildSketch(Plane.XZ.offset(125)):
        with Locations((-69.357675452, 69.222658861)):
            Circle(ESBO_O13_R)
        with Locations((-69.357675452, 47.222658861)):
            Circle(ESBO_O13_R)
        with Locations((-69.357675452, 25.222658861)):
            Circle(ESBO_O13_R)
        with Locations((-63.610686645, 17.422658861)):
            Circle(ESBO_O13_R)
        with Locations((-40.50466426, 17.422658861)):
            Circle(ESBO_O13_R)
        with Locations((-34.757675452, 25.222658861)):
            Circle(ESBO_O13_R)
        with Locations((-34.757675452, 47.222658861)):
            Circle(ESBO_O13_R)
        with Locations((-34.757675452, 69.222658861)):
            Circle(ESBO_O13_R)
        with Locations((34.757675452, 25.222658861)):
            Circle(ESBO_O13_R)
        with Locations((40.50466426, 17.422658861)):
            Circle(ESBO_O13_R)
        with Locations((63.610686645, 17.422658861)):
            Circle(ESBO_O13_R)
        with Locations((69.357675452, 25.222658861)):
            Circle(ESBO_O13_R)
        with Locations((69.357675452, 47.222658861)):
            Circle(ESBO_O13_R)
        with Locations((34.757675452, 47.222658861)):
            Circle(ESBO_O13_R)
        with Locations((34.757675452, 69.222658861)):
            Circle(ESBO_O13_R)
        with Locations((69.357675452, 69.222658861)):
            Circle(ESBO_O13_R)
    extrude(amount=-CORTE_EXTRUS_O10_DEPTH, mode=Mode.SUBTRACT)

    # Chanfro5
    chanfro5_edges = [part.edges().sort_by_distance(p)[0] for p in [
        (-35.782675452, -125, 47.222658861),
        (-35.782675452, -125, 25.222658861),
        (-41.52966426, -125, 17.422658861),
        (-64.635686645, -125, 17.422658861),
        (39.47966426, -125, 17.422658861),
        (-70.382675452, -125, 69.222658861),
        (-70.382675452, -125, 47.222658861),
        (-70.382675452, -125, 25.222658861),
        (68.332675452, -125, 69.222658861),
        (33.732675452, -125, 69.222658861),
        (33.732675452, -125, 47.222658861),
        (68.332675452, -125, 47.222658861),
        (68.332675452, -125, 25.222658861),
        (62.585686645, -125, 17.422658861),
        (-35.782675452, -125, 69.222658861),
        (33.732675452, -125, 25.222658861),
    ]]
    chamfer(chanfro5_edges, length=CHANFRO5_SIZE)


solid = part.part
